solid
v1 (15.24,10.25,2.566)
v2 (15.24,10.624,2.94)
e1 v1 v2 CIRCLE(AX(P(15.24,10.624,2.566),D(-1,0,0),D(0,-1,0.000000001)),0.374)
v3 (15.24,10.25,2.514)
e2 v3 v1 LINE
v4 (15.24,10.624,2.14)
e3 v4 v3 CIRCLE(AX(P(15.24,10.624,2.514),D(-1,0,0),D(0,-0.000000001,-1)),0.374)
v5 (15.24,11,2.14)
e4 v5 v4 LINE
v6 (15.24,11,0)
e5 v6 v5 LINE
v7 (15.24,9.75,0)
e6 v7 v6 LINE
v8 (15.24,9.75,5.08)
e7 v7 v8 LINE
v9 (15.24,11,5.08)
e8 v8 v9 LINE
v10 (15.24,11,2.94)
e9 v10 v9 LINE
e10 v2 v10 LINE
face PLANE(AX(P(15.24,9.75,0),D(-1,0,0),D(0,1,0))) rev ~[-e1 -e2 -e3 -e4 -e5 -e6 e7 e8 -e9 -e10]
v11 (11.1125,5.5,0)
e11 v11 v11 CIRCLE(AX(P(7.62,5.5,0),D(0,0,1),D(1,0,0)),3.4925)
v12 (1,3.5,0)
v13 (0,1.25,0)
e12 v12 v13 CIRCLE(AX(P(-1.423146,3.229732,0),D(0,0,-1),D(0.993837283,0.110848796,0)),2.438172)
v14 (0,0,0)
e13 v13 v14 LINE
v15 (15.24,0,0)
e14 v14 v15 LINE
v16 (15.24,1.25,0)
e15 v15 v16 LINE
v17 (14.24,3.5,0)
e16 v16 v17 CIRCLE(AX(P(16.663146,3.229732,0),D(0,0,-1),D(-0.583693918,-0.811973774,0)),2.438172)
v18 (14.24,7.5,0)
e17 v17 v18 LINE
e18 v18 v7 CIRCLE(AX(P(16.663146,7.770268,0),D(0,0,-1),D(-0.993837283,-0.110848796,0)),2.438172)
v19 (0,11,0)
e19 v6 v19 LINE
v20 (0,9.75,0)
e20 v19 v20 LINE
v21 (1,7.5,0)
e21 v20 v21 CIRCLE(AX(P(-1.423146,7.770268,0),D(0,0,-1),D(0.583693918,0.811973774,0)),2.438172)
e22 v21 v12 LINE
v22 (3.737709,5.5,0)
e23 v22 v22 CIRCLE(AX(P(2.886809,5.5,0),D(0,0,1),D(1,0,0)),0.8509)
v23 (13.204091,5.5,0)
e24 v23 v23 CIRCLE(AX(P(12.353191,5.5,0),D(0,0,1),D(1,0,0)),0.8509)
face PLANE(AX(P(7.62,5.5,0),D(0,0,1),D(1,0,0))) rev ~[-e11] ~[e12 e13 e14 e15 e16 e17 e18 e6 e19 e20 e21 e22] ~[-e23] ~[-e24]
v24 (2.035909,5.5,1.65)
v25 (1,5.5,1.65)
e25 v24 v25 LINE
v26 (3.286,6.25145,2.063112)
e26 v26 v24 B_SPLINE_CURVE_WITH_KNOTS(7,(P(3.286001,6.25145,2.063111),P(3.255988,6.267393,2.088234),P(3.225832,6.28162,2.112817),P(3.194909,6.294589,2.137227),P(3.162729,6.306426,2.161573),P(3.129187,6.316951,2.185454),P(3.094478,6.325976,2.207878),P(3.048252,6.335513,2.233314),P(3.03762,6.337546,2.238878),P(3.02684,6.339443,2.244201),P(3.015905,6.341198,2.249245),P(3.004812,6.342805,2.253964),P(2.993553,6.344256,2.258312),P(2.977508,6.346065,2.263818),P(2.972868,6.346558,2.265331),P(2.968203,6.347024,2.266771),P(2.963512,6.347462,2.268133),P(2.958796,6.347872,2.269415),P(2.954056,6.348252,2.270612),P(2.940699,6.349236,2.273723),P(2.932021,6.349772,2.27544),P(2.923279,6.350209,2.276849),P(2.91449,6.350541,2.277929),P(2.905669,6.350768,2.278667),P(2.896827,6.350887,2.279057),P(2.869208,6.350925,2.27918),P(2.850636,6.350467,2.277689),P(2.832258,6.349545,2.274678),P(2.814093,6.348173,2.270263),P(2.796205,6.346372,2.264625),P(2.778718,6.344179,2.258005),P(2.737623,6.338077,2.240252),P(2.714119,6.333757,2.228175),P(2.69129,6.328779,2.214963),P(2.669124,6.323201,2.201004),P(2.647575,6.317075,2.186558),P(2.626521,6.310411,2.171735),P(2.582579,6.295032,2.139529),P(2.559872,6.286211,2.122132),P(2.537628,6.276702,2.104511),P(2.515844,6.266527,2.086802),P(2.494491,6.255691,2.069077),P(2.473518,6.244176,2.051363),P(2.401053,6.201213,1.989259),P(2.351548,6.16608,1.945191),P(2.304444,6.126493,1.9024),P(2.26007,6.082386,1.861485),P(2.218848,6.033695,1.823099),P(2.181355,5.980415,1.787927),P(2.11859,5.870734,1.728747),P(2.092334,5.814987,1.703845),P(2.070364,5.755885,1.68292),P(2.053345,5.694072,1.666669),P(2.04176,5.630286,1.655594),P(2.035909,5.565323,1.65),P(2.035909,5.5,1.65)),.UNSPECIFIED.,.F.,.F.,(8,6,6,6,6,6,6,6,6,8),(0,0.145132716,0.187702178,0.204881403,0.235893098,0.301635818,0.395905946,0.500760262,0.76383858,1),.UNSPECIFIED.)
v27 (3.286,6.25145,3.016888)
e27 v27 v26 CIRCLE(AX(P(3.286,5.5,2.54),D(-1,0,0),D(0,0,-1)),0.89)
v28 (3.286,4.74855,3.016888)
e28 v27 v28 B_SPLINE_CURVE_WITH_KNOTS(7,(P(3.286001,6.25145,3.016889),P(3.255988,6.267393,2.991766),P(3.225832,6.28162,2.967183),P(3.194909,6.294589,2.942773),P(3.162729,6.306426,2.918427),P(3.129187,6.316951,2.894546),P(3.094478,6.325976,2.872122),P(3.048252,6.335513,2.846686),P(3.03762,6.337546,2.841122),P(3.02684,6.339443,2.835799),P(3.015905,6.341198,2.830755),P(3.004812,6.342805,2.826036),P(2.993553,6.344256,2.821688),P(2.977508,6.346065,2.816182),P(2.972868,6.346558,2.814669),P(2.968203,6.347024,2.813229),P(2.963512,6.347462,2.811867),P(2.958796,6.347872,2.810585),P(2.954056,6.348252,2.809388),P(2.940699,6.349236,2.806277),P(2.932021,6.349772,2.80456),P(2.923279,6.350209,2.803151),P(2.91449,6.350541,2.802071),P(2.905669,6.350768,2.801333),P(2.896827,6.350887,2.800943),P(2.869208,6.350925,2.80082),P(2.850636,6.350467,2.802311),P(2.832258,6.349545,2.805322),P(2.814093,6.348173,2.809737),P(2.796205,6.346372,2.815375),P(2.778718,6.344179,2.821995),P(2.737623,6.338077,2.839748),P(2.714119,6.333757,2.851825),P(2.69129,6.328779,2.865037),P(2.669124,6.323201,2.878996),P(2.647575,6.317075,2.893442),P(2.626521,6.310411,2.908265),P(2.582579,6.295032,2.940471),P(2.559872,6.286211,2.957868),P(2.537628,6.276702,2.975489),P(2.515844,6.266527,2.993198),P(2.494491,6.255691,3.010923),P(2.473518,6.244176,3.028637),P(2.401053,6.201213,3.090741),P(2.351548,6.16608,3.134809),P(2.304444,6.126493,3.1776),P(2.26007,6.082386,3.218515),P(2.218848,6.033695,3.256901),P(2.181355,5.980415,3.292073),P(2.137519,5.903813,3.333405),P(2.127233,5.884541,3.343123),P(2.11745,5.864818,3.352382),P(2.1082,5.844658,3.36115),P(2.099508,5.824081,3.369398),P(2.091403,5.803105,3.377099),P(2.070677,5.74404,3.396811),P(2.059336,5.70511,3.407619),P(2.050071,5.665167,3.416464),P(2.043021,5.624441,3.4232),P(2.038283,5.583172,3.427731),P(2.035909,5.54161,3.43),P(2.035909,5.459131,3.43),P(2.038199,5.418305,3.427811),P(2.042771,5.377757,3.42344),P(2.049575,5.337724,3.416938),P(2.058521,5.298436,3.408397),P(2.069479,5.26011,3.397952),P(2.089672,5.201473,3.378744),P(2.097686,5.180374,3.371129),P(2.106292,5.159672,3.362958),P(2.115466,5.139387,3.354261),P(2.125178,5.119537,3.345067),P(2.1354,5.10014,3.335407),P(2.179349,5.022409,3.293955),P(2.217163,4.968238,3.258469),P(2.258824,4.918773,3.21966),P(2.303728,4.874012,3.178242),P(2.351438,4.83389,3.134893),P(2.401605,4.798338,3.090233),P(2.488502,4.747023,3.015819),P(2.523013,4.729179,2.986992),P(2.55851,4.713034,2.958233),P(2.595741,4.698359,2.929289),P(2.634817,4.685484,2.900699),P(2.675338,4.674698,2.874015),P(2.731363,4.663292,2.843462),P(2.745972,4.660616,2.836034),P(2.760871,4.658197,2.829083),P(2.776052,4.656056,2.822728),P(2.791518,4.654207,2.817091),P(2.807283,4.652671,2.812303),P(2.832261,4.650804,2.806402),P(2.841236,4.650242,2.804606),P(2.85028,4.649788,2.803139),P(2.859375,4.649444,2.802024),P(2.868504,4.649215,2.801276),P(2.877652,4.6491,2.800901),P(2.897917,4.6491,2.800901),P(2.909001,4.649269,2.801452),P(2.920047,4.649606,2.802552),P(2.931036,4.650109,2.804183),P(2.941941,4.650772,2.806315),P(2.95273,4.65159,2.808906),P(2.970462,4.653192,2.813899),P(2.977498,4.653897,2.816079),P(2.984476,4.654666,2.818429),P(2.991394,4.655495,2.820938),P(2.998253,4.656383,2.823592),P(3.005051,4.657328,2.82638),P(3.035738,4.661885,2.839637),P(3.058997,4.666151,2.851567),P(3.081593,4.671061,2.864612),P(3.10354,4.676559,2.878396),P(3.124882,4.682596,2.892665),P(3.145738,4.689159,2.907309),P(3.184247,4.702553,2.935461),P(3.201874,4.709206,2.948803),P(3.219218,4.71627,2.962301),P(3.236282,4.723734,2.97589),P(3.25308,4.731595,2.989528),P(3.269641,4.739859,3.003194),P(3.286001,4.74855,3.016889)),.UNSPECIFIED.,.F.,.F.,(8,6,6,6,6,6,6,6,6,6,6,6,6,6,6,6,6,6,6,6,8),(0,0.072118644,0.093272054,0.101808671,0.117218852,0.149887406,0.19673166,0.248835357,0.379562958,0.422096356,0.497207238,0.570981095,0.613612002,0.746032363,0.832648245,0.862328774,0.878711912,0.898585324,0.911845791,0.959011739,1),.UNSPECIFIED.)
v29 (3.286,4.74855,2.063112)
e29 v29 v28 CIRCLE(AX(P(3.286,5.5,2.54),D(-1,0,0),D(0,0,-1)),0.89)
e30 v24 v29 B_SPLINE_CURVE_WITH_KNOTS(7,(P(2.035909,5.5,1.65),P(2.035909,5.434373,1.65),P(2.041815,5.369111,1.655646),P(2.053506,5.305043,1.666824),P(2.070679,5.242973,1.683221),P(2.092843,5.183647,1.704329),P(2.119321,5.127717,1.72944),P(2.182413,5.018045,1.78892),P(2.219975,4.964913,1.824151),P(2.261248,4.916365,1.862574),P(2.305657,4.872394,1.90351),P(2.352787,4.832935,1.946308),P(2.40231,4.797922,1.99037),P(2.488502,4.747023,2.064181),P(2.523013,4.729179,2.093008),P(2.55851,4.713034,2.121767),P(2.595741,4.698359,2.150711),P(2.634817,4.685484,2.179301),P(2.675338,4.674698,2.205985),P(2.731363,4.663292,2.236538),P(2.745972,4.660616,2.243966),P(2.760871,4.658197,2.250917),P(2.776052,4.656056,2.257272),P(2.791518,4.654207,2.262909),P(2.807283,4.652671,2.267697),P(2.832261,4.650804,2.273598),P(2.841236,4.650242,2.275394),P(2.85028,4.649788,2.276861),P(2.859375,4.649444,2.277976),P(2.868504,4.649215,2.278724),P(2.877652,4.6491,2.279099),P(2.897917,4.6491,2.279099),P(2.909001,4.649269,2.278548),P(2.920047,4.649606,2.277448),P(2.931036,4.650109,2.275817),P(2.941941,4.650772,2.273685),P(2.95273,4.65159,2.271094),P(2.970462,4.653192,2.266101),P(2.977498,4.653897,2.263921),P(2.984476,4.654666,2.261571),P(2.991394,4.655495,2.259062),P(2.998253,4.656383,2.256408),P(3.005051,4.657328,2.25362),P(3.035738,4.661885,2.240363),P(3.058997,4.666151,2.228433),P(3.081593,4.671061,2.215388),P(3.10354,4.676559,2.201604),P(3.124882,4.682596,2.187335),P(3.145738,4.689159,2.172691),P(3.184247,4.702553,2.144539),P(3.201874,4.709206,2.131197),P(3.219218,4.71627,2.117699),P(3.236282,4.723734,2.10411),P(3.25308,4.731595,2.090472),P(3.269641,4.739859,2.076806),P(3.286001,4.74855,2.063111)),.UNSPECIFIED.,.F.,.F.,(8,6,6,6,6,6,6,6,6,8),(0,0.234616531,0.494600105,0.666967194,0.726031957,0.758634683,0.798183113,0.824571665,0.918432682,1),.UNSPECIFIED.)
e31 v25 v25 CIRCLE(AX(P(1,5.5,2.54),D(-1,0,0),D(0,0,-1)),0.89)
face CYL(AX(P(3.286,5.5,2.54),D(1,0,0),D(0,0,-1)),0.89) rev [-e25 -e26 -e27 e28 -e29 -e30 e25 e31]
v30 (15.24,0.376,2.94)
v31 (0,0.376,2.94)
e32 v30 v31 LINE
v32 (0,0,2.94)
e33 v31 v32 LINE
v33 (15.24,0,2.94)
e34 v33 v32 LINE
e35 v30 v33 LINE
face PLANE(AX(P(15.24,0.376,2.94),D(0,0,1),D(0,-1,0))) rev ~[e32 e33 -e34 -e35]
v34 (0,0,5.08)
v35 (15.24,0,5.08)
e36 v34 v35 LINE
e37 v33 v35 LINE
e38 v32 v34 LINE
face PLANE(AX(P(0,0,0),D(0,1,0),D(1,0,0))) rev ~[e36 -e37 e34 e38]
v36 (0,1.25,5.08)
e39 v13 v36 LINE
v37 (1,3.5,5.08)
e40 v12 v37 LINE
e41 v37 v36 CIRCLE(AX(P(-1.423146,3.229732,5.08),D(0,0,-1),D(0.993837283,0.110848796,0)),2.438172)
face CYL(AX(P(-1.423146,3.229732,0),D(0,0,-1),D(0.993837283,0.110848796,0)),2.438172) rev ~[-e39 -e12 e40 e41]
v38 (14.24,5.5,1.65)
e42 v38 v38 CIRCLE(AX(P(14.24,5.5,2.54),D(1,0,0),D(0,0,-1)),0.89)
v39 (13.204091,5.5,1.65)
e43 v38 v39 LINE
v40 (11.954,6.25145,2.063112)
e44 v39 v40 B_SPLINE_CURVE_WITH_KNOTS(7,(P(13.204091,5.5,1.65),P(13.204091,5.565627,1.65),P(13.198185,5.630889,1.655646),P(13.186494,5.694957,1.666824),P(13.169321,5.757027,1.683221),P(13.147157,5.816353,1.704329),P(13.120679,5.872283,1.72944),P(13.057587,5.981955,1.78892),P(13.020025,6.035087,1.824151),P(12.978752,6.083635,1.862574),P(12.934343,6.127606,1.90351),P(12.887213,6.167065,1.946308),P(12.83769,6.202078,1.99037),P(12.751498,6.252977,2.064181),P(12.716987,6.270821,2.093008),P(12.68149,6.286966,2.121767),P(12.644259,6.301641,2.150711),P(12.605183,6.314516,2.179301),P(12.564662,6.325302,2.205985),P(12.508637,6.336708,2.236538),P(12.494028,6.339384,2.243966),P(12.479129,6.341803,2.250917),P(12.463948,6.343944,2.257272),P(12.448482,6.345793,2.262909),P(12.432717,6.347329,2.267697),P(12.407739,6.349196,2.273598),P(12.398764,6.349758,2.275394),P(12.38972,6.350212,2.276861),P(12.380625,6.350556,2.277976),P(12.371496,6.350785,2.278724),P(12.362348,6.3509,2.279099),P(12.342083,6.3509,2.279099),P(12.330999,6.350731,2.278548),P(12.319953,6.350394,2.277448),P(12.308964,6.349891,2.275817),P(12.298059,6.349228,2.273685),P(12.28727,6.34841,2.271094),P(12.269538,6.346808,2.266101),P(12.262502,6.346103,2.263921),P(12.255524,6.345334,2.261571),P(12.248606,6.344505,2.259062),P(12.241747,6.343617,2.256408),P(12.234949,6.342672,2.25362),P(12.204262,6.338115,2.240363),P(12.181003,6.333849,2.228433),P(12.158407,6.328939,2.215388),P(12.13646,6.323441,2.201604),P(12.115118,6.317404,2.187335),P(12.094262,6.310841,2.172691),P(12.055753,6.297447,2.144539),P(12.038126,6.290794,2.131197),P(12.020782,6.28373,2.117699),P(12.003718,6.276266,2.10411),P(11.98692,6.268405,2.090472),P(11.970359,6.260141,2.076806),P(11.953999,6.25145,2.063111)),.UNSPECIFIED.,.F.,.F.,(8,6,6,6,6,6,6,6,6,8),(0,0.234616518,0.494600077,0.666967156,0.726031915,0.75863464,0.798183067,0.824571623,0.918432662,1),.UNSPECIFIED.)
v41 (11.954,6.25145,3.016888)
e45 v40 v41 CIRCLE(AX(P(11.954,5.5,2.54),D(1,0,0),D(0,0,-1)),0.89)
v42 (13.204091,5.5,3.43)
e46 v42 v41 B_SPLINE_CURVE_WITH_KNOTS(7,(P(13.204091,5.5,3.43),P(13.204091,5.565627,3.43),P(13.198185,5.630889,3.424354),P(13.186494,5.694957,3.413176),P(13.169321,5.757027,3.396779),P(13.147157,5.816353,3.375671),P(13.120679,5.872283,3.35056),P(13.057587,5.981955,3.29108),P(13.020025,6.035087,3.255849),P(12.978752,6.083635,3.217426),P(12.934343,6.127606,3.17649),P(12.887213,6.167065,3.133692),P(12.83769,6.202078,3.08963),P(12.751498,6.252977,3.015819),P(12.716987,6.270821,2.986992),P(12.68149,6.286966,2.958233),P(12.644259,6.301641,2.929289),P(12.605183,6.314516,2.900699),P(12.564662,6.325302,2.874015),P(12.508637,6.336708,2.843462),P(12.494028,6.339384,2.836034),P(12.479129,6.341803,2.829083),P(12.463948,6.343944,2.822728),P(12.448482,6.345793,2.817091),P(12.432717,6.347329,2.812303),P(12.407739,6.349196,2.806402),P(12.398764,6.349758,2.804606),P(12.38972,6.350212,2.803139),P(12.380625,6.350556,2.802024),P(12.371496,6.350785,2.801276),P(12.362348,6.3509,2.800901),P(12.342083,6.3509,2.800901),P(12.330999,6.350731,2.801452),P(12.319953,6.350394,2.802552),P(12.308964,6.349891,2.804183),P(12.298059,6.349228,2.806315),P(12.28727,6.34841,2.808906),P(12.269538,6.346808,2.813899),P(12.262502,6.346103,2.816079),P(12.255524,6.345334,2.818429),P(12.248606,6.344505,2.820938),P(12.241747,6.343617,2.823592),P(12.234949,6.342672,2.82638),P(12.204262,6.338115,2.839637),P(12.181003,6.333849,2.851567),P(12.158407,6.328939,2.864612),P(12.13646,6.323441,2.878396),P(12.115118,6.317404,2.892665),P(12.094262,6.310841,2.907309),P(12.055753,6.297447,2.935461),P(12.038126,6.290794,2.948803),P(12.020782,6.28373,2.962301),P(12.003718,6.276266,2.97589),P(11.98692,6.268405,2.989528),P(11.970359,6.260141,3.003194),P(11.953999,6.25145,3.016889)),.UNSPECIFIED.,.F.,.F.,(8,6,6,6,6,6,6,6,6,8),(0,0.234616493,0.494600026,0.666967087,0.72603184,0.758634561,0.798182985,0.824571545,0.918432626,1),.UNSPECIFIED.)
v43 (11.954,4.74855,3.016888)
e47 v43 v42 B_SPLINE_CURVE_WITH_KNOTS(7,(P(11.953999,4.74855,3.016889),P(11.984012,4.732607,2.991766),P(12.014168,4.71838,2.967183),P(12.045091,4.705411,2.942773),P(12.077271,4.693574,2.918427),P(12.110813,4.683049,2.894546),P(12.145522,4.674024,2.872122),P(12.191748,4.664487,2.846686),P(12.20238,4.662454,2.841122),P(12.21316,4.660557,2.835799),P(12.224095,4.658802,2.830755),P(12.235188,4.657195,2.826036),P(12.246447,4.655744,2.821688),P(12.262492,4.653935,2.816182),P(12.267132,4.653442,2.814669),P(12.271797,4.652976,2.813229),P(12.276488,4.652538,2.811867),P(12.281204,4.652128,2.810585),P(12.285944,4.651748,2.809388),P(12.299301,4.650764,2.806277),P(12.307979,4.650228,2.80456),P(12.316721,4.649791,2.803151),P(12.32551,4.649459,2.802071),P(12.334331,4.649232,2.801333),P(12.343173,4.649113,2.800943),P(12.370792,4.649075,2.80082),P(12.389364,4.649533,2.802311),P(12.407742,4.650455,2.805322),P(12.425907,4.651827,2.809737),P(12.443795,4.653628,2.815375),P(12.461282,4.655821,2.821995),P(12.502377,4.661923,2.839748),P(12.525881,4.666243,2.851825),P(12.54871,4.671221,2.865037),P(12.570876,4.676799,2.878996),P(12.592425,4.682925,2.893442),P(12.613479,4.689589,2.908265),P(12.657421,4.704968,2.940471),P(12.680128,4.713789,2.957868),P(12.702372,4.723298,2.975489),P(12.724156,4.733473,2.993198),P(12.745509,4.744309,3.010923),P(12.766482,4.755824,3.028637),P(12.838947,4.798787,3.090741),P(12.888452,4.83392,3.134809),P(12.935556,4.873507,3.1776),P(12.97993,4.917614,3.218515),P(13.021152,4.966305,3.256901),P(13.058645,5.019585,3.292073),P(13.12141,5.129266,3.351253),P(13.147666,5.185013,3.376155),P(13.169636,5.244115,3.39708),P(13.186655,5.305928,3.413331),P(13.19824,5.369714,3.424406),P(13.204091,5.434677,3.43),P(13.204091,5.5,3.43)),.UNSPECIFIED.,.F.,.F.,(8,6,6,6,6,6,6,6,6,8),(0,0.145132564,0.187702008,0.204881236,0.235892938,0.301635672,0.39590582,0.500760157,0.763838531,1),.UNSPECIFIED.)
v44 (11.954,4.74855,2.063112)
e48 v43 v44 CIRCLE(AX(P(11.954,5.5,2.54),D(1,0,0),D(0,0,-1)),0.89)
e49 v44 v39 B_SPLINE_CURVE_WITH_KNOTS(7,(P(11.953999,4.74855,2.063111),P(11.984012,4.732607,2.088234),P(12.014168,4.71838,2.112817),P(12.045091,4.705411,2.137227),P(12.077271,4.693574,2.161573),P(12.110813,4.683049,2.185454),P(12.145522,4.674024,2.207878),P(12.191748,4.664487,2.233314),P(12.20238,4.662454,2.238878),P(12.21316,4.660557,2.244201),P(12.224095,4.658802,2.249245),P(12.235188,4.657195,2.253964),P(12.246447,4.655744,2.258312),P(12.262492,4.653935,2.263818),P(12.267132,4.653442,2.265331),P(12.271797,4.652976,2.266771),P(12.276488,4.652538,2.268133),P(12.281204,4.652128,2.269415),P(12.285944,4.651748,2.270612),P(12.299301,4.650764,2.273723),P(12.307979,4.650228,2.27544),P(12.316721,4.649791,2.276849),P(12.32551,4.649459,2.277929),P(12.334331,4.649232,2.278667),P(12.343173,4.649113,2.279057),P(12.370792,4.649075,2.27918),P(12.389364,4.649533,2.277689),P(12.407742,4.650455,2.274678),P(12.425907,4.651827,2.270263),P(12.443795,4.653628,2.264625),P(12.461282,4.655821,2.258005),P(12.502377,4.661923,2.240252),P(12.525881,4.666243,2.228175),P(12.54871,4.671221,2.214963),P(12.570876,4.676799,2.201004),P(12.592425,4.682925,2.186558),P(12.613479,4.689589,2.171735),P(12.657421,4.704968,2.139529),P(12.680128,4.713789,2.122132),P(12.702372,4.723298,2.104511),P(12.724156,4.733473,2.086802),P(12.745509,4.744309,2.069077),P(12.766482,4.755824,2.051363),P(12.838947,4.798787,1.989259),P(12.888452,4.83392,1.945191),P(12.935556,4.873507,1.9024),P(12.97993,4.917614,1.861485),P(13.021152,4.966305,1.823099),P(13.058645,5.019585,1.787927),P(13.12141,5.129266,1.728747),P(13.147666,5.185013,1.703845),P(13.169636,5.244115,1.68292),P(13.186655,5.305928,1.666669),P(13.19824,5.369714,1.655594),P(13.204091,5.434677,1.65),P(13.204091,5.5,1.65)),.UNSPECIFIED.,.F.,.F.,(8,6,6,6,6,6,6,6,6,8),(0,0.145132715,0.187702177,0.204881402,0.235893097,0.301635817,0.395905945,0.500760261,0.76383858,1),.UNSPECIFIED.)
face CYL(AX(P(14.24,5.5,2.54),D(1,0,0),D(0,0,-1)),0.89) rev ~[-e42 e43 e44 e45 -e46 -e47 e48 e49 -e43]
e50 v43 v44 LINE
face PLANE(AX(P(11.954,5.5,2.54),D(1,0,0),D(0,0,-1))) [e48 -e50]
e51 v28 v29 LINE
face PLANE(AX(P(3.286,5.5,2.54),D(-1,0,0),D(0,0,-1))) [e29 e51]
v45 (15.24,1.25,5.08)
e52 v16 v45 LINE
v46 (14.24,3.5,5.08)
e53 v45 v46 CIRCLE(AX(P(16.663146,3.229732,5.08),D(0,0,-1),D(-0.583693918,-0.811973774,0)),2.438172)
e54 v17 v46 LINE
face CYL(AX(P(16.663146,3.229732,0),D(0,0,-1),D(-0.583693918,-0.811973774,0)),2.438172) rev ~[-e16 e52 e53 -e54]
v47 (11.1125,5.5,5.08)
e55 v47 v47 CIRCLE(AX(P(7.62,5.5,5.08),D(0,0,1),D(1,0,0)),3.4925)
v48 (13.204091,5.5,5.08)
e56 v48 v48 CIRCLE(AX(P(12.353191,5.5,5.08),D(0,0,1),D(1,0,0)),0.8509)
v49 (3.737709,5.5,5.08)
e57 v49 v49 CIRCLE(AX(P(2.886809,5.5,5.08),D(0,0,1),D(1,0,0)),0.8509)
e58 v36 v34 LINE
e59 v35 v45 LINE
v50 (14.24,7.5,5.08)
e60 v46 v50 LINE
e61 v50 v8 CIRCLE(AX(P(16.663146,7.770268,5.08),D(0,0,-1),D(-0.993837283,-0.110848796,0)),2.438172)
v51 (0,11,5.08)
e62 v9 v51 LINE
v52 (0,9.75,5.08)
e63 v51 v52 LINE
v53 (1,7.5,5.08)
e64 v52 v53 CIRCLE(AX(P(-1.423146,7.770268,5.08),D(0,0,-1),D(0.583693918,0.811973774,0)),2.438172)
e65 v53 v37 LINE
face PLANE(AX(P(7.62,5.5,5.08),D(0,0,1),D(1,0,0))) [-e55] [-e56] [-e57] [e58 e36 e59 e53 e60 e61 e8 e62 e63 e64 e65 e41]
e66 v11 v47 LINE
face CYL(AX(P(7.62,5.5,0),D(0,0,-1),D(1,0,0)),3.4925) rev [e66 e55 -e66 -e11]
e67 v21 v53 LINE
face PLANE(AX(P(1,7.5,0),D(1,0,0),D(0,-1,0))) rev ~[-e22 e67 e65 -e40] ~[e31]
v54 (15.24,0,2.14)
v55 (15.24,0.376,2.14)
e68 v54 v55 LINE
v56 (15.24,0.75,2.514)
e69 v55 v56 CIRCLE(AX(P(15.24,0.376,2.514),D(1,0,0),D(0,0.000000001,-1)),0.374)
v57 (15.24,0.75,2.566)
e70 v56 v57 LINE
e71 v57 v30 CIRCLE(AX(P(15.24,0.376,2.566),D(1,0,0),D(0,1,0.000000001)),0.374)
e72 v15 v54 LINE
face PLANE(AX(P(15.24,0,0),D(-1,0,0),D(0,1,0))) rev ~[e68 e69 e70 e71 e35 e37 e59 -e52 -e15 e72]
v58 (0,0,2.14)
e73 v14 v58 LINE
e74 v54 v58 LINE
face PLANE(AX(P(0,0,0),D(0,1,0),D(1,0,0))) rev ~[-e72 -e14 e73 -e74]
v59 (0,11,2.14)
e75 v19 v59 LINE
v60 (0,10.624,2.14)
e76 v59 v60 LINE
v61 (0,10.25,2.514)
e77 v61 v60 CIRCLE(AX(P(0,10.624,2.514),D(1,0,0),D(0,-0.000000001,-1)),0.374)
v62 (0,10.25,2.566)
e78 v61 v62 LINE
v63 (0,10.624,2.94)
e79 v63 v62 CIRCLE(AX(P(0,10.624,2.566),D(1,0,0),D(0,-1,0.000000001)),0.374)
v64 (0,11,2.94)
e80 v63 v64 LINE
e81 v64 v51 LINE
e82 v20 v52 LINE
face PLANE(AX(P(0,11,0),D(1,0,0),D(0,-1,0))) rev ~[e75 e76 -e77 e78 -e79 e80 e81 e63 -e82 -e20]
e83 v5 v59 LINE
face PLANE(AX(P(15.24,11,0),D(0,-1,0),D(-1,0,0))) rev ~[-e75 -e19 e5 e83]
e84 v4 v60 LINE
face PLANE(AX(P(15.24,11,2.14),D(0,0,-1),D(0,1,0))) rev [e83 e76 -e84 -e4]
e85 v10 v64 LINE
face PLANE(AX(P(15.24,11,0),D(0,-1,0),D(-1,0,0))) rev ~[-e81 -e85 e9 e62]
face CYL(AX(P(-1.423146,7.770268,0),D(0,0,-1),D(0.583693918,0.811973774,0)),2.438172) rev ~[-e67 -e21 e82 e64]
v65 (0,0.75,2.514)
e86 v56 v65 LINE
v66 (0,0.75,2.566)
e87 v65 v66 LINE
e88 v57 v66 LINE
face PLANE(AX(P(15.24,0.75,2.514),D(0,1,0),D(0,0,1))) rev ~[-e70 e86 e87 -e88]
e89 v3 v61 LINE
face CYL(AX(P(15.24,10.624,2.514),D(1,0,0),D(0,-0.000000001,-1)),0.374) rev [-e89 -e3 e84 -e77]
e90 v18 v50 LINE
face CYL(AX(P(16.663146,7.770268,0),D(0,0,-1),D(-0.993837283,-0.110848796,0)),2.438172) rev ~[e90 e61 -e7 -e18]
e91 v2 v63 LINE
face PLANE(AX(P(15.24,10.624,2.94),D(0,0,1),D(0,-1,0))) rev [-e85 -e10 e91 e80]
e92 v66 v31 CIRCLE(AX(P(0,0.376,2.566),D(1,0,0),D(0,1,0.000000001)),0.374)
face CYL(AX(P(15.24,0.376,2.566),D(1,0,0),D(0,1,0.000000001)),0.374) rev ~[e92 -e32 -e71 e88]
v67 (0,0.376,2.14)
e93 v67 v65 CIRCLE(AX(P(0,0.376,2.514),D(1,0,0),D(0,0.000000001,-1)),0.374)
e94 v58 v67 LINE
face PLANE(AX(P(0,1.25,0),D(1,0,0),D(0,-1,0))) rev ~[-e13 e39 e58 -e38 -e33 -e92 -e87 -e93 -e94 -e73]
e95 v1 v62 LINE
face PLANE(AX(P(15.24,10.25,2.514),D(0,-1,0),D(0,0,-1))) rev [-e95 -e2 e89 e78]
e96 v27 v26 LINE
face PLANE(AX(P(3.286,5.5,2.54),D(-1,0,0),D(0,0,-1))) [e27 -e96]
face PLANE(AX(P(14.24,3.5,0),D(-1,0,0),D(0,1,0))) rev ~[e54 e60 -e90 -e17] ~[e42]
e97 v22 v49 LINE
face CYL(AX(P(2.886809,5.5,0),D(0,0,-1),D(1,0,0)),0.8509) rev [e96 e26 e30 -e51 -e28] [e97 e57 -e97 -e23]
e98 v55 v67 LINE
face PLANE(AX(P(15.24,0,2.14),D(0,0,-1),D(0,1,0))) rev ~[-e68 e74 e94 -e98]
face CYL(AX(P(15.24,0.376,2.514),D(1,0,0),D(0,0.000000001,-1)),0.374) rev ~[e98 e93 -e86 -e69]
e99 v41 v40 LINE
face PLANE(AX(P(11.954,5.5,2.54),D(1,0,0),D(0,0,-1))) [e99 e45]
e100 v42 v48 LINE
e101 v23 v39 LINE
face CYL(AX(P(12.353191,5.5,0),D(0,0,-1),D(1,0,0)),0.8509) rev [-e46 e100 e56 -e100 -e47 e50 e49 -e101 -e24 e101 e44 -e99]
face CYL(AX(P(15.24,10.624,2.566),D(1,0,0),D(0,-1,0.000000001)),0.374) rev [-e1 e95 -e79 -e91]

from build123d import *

# Parameters (mm, degrees)
SKETCH1_R           = 0.8509
SKETCH1_R_2         = 3.4925
BOSS_EXTRUDE1_DEPTH = 5.08
SKETCH2_R           = 0.89
CUT_EXTRUDE1_DEPTH  = 2.286
CUT_EXTRUDE2_START  = -2.286
SKETCH3_R           = 0.89
CUT_EXTRUDE2_DEPTH  = 2.286
CUT_EXTRUDE3_DEPTH  = 20.46956602


with BuildPart() as part:
    # Sketch1 → Boss-Extrude1 (new body)
    with BuildSketch(Plane.XY):
        with BuildLine():
            ThreePointArc((0, 9.75), (0.804883509, 8.760503782), (1, 7.5))
            Line((1, 7.5), (1, 3.5))
            ThreePointArc((1, 3.5), (0.804883509, 2.239496218), (0, 1.25))
            Line((0, 1.25), (0, 0))
            Line((0, 0), (15.24, 0))
            Line((15.24, 0), (15.24, 1.25))
            ThreePointArc((15.24, 1.25), (14.435116491, 2.239496218), (14.24, 3.5))
            Line((14.24, 3.5), (14.24, 7.5))
            ThreePointArc((14.24, 7.5), (14.435116491, 8.760503782), (15.24, 9.75))
            Line((15.24, 9.75), (15.24, 11))
            Line((15.24, 11), (0, 11))
            Line((0, 11), (0, 9.75))
        make_face()
        with Locations((2.886809291, 5.5)):
            Circle(SKETCH1_R, mode=Mode.SUBTRACT)
        with Locations((7.62, 5.5)):
            Circle(SKETCH1_R_2, mode=Mode.SUBTRACT)
        with Locations((12.353190709, 5.5)):
            Circle(SKETCH1_R, mode=Mode.SUBTRACT)
    extrude(amount=BOSS_EXTRUDE1_DEPTH)

    # Sketch2 → Cut-Extrude1 (cut)
    with BuildSketch(Plane(origin=(14.24, 0, 0), x_dir=(0, 0, -1), z_dir=(1, 0, 0))):
        with Locations((-2.54, 5.5)):
            Circle(SKETCH2_R)
    extrude(amount=-CUT_EXTRUDE1_DEPTH, mode=Mode.SUBTRACT)

    # Sketch3 → Cut-Extrude2 (cut)
    with BuildSketch(Plane.ZY.offset(-1).offset(CUT_EXTRUDE2_START)):
        with Locations(Location((2.54, 5.5, 0), (0, 0, 180))):
            Circle(SKETCH3_R)
    extrude(amount=CUT_EXTRUDE2_DEPTH, mode=Mode.SUBTRACT)

    # Sketch4 → Cut-Extrude3 (cut, through all)
    with BuildSketch(Plane(origin=(15.24, 0, 0), x_dir=(0, 0, -1), z_dir=(1, 0, 0))):
        with BuildLine():
            Line((-2.94, 0), (-2.14, 0))
            Line((-2.14, 0), (-2.14, 0.376))
            ThreePointArc((-2.14, 0.376), (-2.249542064, 0.640457936), (-2.514, 0.75))
            Line((-2.514, 0.75), (-2.566, 0.75))
            ThreePointArc((-2.566, 0.75), (-2.830457936, 0.640457936), (-2.94, 0.376))
            Line((-2.94, 0.376), (-2.94, 0))
        make_face()
    cut_extrude3 = extrude(amount=-CUT_EXTRUDE3_DEPTH, mode=Mode.SUBTRACT)

    # Mirror1: Cut-Extrude3 across plane
    add(cut_extrude3.mirror(Plane(origin=(0, 5.5, 0), x_dir=(0, 0, 1), z_dir=(0, -1, 0))), mode=Mode.SUBTRACT)


solid = part.part
